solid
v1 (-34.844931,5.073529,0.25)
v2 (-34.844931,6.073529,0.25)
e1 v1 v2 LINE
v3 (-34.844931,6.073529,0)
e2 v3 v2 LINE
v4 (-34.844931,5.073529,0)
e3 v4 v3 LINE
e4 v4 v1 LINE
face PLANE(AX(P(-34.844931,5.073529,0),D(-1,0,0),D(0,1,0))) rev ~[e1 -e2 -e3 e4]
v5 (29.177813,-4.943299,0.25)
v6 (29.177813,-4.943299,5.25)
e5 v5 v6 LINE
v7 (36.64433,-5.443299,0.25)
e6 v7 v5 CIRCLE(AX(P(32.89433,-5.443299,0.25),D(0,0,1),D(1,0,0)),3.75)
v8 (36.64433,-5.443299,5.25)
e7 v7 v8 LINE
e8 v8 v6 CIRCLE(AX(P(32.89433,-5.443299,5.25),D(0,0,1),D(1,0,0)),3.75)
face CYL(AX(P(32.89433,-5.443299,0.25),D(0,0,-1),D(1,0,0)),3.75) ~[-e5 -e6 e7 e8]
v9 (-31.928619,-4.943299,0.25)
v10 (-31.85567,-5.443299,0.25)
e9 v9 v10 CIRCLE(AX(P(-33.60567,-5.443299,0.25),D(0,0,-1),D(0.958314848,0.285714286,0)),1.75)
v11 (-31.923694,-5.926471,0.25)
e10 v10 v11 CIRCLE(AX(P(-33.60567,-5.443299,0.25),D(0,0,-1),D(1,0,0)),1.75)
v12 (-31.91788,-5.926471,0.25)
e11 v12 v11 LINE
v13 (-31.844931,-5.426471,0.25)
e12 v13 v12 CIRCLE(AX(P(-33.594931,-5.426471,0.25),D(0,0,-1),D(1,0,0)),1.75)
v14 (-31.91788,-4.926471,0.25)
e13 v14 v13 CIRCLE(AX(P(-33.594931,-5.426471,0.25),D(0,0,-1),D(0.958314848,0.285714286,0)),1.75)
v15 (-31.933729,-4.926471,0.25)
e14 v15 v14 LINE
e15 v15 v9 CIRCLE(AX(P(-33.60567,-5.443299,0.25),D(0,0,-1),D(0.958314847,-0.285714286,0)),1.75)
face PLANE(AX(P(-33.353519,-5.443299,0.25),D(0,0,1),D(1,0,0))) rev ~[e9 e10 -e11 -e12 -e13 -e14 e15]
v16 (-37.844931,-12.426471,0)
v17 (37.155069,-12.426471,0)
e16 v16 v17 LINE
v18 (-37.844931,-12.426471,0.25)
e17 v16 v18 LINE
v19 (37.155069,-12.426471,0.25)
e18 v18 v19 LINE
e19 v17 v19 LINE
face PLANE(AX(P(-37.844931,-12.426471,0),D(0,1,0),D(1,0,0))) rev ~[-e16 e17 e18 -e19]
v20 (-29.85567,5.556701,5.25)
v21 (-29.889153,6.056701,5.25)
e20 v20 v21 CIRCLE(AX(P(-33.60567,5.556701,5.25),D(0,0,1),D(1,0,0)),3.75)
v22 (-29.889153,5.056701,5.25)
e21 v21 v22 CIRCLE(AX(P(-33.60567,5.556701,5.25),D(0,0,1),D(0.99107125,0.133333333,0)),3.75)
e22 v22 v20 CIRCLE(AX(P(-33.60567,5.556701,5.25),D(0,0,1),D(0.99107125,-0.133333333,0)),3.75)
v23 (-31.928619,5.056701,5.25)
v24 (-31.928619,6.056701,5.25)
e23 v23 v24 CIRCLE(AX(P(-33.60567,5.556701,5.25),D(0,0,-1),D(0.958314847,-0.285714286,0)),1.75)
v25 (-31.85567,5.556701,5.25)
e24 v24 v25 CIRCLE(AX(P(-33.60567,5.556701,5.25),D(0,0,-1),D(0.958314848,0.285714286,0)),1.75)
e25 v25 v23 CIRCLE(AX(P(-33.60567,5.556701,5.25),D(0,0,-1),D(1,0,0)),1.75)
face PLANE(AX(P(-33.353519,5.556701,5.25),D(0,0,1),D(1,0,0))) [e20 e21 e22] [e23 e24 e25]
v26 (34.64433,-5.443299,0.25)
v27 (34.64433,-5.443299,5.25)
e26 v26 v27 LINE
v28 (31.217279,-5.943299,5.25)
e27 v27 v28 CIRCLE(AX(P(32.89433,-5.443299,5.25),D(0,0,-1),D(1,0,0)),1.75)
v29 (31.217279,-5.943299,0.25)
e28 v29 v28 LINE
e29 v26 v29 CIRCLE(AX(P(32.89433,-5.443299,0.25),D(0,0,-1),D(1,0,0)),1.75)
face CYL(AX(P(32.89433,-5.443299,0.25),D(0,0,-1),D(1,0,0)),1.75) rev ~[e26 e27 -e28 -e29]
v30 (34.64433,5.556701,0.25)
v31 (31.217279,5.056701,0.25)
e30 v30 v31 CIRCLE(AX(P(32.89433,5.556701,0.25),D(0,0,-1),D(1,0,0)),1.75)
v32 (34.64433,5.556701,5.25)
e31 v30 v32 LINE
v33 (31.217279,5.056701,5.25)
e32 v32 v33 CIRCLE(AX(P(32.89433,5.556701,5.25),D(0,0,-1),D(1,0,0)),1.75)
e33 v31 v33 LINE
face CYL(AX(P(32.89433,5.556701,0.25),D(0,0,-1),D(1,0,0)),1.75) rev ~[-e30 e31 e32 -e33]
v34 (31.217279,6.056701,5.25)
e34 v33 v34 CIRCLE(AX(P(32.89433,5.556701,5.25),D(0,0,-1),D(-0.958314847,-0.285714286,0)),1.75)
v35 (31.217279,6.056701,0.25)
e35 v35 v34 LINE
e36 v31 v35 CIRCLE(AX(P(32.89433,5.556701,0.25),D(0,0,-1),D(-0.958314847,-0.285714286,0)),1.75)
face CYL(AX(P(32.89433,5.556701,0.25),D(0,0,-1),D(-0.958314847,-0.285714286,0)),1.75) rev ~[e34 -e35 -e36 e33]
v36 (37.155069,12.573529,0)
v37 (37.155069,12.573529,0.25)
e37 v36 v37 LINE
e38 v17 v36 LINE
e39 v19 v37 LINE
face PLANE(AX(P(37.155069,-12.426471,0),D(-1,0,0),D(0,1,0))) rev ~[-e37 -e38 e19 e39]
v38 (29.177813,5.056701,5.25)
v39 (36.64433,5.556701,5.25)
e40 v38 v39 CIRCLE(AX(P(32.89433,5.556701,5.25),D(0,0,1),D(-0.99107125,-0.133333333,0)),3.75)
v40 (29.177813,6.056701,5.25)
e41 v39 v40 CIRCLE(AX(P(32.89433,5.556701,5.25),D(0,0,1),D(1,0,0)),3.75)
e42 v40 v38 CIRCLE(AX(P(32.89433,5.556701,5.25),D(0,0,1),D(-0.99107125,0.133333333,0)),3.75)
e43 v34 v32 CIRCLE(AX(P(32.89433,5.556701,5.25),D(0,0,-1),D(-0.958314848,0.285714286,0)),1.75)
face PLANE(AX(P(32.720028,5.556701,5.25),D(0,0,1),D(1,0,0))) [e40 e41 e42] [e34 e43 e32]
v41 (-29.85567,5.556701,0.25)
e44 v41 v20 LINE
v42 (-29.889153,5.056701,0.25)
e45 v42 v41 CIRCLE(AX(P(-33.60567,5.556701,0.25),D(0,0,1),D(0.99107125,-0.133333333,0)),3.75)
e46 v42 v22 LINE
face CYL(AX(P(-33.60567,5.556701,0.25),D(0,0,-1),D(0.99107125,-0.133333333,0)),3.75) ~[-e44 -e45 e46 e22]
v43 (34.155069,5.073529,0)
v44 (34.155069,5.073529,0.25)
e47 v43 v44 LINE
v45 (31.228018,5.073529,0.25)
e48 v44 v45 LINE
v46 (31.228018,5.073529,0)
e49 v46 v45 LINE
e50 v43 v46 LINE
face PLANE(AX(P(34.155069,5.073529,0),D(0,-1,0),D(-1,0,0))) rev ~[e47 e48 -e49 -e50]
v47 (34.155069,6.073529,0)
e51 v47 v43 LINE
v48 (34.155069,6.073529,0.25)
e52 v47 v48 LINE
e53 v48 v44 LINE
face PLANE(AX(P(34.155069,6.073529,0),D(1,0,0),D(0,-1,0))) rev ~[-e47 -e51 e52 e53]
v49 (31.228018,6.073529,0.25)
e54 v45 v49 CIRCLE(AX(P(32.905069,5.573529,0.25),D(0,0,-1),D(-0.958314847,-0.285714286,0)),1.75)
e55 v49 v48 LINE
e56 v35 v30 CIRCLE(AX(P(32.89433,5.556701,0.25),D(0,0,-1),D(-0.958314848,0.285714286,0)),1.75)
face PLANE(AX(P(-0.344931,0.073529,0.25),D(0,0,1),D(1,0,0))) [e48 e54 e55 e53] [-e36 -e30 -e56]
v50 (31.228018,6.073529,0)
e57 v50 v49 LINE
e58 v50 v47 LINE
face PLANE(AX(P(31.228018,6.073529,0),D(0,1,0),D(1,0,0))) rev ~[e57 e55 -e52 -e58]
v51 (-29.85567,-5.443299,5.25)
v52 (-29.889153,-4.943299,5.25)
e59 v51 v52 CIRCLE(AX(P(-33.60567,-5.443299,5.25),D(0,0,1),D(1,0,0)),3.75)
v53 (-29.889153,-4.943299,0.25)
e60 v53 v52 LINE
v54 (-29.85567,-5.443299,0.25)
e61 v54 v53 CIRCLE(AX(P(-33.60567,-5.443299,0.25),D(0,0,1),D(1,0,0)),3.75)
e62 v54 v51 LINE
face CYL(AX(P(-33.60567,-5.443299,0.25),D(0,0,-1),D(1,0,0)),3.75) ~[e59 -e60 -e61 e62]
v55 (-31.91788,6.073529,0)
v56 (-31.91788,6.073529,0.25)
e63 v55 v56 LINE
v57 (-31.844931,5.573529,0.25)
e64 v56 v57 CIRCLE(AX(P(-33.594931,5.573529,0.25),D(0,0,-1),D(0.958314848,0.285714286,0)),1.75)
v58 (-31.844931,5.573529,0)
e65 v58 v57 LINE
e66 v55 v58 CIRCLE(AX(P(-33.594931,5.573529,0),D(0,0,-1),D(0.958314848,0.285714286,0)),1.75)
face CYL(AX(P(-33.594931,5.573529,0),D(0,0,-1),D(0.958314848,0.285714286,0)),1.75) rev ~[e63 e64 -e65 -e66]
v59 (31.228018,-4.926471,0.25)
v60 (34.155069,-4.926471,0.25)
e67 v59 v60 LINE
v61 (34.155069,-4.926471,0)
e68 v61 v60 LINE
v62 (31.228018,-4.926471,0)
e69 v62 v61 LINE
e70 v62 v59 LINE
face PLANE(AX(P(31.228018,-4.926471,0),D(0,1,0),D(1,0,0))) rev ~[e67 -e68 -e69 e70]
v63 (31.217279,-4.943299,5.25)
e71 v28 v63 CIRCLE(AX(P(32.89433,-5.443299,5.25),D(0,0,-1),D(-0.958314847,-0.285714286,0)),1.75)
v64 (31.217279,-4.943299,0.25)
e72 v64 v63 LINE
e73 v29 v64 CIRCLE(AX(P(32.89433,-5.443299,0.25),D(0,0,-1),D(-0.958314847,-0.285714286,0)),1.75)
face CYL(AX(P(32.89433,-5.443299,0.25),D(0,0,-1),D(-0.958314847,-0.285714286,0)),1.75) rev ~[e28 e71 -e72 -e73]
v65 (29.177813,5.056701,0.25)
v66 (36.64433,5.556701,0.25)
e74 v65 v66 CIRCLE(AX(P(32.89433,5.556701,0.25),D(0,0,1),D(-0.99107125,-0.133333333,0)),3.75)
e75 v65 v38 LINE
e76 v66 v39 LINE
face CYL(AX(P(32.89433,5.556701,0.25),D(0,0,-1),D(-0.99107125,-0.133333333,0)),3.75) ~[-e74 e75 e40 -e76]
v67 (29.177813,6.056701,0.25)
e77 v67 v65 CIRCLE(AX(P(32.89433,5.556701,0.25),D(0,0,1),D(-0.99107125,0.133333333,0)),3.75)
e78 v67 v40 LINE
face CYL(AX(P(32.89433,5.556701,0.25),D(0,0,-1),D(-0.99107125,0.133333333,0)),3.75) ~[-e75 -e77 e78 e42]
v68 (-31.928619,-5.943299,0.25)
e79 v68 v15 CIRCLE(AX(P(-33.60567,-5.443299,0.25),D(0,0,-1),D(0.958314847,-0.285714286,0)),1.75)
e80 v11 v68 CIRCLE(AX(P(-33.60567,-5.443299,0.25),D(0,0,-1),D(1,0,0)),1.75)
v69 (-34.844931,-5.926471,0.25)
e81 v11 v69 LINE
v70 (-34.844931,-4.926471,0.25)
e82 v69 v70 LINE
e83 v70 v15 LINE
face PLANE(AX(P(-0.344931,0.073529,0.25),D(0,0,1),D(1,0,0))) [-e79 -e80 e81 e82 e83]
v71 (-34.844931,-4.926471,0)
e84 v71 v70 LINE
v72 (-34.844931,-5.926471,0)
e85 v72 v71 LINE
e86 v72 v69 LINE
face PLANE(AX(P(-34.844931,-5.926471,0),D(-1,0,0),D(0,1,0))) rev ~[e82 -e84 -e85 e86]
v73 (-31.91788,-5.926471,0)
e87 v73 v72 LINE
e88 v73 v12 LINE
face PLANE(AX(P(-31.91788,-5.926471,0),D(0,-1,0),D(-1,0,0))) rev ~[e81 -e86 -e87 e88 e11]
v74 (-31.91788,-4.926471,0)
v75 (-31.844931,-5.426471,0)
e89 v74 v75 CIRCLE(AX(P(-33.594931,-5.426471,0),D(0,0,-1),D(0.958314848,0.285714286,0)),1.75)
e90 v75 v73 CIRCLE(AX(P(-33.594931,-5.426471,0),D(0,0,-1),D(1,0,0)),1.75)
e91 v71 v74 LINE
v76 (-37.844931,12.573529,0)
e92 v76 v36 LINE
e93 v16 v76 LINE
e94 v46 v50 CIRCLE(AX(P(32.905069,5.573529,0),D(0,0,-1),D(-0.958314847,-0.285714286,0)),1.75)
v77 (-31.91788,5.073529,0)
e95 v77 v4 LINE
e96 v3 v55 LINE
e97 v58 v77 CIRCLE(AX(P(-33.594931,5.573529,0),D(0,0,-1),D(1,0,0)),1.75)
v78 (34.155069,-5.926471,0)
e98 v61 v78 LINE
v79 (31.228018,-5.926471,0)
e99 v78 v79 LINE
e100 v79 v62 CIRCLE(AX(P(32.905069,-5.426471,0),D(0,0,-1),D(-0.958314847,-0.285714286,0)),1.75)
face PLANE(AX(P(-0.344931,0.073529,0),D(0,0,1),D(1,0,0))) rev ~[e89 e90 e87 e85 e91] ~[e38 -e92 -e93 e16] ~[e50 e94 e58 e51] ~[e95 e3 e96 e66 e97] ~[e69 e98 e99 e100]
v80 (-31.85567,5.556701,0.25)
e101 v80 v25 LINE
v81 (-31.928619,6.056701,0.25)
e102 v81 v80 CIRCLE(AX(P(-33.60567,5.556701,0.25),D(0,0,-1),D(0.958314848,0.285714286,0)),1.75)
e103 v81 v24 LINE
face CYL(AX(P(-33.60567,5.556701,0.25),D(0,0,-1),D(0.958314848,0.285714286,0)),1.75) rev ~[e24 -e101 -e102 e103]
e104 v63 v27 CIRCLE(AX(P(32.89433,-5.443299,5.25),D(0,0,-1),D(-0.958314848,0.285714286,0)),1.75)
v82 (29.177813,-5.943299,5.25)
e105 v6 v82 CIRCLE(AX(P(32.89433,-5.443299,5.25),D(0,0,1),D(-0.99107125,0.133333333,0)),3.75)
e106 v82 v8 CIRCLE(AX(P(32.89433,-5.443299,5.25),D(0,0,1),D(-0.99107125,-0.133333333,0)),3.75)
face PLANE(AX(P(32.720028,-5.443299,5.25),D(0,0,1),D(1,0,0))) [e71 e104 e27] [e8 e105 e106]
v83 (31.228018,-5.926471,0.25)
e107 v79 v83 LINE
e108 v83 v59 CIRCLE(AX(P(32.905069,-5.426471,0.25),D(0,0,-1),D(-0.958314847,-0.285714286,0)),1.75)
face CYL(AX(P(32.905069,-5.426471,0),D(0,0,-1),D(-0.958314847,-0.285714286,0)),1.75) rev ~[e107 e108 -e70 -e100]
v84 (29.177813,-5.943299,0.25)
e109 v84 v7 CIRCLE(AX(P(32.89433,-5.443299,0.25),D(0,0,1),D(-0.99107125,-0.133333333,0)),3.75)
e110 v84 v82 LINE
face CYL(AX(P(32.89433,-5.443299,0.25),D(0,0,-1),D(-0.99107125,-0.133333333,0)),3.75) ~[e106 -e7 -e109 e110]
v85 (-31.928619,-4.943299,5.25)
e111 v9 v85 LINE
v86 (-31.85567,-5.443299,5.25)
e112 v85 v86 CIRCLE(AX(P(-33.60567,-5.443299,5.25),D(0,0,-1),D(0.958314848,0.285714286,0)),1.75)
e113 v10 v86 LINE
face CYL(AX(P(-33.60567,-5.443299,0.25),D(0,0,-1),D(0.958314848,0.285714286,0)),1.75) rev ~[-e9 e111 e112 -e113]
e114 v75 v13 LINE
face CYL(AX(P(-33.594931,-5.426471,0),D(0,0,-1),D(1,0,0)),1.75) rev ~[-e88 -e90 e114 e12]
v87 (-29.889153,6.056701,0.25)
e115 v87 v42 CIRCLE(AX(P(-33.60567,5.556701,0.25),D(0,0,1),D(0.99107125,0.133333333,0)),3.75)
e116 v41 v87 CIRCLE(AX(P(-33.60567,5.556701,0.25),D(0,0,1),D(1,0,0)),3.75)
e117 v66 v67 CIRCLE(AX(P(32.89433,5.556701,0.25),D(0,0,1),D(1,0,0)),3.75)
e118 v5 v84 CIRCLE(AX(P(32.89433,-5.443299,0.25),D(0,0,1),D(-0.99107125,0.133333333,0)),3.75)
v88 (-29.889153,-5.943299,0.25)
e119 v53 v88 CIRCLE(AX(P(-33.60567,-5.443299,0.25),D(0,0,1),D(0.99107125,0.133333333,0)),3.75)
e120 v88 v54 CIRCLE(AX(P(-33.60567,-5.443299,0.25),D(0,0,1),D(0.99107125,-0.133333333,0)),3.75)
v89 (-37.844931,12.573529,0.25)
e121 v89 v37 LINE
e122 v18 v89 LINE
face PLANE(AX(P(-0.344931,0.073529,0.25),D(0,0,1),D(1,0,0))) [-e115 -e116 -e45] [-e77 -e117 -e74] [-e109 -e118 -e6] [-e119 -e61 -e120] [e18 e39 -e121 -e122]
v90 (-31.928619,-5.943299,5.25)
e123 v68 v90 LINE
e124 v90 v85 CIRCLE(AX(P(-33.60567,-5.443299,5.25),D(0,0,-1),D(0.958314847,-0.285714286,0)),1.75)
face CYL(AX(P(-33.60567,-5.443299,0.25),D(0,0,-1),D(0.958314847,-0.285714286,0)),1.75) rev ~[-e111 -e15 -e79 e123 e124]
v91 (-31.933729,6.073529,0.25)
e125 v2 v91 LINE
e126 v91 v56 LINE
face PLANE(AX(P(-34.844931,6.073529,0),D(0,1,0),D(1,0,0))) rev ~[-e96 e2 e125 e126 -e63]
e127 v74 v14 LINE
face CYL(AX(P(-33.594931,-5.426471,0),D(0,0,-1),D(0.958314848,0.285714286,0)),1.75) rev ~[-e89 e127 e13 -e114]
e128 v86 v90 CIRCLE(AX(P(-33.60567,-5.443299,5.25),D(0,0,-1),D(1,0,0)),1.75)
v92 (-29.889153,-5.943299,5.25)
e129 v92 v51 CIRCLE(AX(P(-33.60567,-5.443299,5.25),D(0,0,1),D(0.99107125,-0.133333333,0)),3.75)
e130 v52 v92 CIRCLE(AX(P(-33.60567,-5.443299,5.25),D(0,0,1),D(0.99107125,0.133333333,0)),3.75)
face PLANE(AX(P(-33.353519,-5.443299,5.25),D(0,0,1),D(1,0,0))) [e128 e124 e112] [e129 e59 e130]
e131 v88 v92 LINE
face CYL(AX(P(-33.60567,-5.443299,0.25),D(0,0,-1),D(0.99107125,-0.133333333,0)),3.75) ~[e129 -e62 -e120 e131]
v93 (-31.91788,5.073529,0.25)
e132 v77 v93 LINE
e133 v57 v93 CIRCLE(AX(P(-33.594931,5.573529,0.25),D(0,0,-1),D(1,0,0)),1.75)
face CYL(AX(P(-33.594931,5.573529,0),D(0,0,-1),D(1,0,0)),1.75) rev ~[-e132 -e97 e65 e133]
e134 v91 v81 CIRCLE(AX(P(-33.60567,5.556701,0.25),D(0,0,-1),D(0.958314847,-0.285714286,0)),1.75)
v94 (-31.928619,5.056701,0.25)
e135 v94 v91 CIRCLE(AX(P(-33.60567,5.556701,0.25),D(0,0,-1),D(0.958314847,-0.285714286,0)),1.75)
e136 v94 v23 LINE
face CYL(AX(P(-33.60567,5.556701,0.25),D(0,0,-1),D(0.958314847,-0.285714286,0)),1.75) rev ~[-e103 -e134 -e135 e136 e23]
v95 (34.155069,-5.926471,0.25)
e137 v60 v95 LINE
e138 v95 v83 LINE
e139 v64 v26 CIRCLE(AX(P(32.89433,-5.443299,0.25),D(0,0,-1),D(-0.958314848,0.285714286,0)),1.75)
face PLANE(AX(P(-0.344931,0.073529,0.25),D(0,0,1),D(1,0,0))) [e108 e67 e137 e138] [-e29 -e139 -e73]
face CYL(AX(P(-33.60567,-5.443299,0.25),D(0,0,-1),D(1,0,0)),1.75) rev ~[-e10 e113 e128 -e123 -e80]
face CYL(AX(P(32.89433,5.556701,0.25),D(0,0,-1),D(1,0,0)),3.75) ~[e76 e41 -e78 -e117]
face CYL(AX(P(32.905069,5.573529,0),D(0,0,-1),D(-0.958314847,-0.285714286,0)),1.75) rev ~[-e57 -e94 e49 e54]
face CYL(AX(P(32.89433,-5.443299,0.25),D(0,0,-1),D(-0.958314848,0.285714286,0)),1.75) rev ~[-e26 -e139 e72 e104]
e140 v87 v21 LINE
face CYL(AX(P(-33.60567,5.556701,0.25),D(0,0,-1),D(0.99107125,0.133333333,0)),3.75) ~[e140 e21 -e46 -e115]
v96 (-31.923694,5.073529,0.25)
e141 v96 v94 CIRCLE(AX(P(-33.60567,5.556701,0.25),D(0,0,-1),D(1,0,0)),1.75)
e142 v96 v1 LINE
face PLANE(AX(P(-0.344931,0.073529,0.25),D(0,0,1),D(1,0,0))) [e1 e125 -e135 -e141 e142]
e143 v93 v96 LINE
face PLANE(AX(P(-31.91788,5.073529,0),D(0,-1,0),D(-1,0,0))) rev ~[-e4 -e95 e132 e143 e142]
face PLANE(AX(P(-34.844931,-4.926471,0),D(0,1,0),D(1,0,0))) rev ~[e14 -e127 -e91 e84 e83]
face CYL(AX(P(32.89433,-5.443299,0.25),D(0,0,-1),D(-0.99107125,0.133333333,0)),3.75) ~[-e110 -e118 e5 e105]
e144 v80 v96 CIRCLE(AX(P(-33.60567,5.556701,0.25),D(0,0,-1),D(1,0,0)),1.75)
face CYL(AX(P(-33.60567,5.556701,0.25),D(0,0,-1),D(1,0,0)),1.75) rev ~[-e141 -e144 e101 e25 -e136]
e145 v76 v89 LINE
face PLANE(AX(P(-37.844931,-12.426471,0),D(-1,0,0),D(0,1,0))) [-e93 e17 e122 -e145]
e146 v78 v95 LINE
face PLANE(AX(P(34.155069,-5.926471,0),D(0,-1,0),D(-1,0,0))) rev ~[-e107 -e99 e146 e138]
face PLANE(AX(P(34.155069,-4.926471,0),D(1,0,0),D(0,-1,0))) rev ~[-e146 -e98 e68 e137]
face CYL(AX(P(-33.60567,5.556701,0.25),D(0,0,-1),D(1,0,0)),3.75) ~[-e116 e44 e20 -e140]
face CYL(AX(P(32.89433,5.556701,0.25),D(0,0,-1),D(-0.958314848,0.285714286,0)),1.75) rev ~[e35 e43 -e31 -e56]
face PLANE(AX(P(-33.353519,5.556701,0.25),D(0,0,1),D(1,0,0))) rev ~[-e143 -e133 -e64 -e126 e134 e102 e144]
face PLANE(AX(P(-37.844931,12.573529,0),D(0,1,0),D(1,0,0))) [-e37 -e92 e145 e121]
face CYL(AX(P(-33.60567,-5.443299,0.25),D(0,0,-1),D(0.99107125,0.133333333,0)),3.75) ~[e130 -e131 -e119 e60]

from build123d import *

# Parameters (mm, degrees)
F0_W     = 75
F0_H     = 25
F1_DEPTH = 0.25
F4_DEPTH = 5


with BuildPart() as f1:
    # F0 (on Top) → F1 (new body)
    with BuildSketch(Plane.XY):
        with Locations((-0.3449308872, 0.0735294118)):
            Rectangle(F0_W, F0_H)
        with BuildLine():
            ThreePointArc((-29.8784137004, -5.9264705882), (-37.3449308872, -5.4264705882), (-29.8784137004, -4.9264705882))
            Line((-29.8784137004, -4.9264705882), (-28.3449308872, -4.9264705882))
            Line((-28.3449308872, -4.9264705882), (-24.3449308872, -1.4264705882))
            Line((-24.3449308872, -1.4264705882), (23.6550691128, -1.4264705882))
            Line((23.6550691128, -1.4264705882), (27.6550691128, -4.9264705882))
            Line((27.6550691128, -4.9264705882), (29.1885519259, -4.9264705882))
            ThreePointArc((29.1885519259, -4.9264705882), (33.1556290351, -1.6848506549), (36.6550691128, -5.4264705882))
            ThreePointArc((36.6550691128, -5.4264705882), (33.1556290351, -9.1680905215), (29.1885519259, -5.9264705882))
            Line((29.1885519259, -5.9264705882), (27.6550691128, -5.9264705882))
            Line((27.6550691128, -5.9264705882), (23.6550691128, -9.4264705882))
            Line((23.6550691128, -9.4264705882), (-24.3449308872, -9.4264705882))
            Line((-24.3449308872, -9.4264705882), (-28.3449308872, -5.9264705882))
            Line((-28.3449308872, -5.9264705882), (-29.8784137004, -5.9264705882))
        make_face(mode=Mode.SUBTRACT)
        with BuildLine():
            ThreePointArc((-29.8784137004, 5.0735294118), (-37.3449308872, 5.5735294118), (-29.8784137004, 6.0735294118))
            Line((-29.8784137004, 6.0735294118), (-28.3449308872, 6.0735294118))
            Line((-28.3449308872, 6.0735294118), (-24.3449308872, 9.5735294118))
            Line((-24.3449308872, 9.5735294118), (23.6550691128, 9.5735294118))
            Line((23.6550691128, 9.5735294118), (27.6550691128, 6.0735294118))
            Line((27.6550691128, 6.0735294118), (29.1885519259, 6.0735294118))
            ThreePointArc((29.1885519259, 6.0735294118), (33.1556290351, 9.3151493451), (36.6550691128, 5.5735294118))
            ThreePointArc((36.6550691128, 5.5735294118), (33.1556290351, 1.8319094785), (29.1885519259, 5.0735294118))
            Line((29.1885519259, 5.0735294118), (27.6550691128, 5.0735294118))
            Line((27.6550691128, 5.0735294118), (23.6550691128, 1.5735294118))
            Line((23.6550691128, 1.5735294118), (-24.3449308872, 1.5735294118))
            Line((-24.3449308872, 1.5735294118), (-28.3449308872, 5.0735294118))
            Line((-28.3449308872, 5.0735294118), (-29.8784137004, 5.0735294118))
        make_face(mode=Mode.SUBTRACT)
        with BuildLine():
            Line((29.1885519259, 6.0735294118), (27.6550691128, 6.0735294118))
            Line((27.6550691128, 6.0735294118), (27.6550691128, 5.0735294118))
            Line((27.6550691128, 5.0735294118), (29.1885519259, 5.0735294118))
            ThreePointArc((29.1885519259, 5.0735294118), (29.1550691128, 5.5735294118), (29.1885519259, 6.0735294118))
        make_face()
        with BuildLine():
            ThreePointArc((36.6550691128, 5.5735294118), (33.1556290351, 9.3151493451), (29.1885519259, 6.0735294118))
            Line((29.1885519259, 6.0735294118), (31.2280181297, 6.0735294118))
            ThreePointArc((31.2280181297, 6.0735294118), (33.1577158815, 7.3051961263), (34.6550691128, 5.5735294118))
            ThreePointArc((34.6550691128, 5.5735294118), (33.1577158815, 3.8418626972), (31.2280181297, 5.0735294118))
            Line((31.2280181297, 5.0735294118), (29.1885519259, 5.0735294118))
            ThreePointArc((29.1885519259, 5.0735294118), (33.1556290351, 1.8319094785), (36.6550691128, 5.5735294118))
        make_face()
        with BuildLine():
            Line((31.2280181297, 6.0735294118), (29.1885519259, 6.0735294118))
            ThreePointArc((29.1885519259, 6.0735294118), (29.1550691128, 5.5735294118), (29.1885519259, 5.0735294118))
            Line((29.1885519259, 5.0735294118), (31.2280181297, 5.0735294118))
            ThreePointArc((31.2280181297, 5.0735294118), (31.1550691128, 5.5735294118), (31.2280181297, 6.0735294118))
        make_face()
        with BuildLine():
            ThreePointArc((34.6550691128, 5.5735294118), (33.1577158815, 7.3051961263), (31.2280181297, 6.0735294118))
            Line((31.2280181297, 6.0735294118), (34.1550691128, 6.0735294118))
            Line((34.1550691128, 6.0735294118), (34.1550691128, 5.0735294118))
            Line((34.1550691128, 5.0735294118), (31.2280181297, 5.0735294118))
            ThreePointArc((31.2280181297, 5.0735294118), (33.1577158815, 3.8418626972), (34.6550691128, 5.5735294118))
        make_face()
        with BuildLine():
            Line((29.1885519259, -4.9264705882), (27.6550691128, -4.9264705882))
            Line((27.6550691128, -4.9264705882), (27.6550691128, -5.9264705882))
            Line((27.6550691128, -5.9264705882), (29.1885519259, -5.9264705882))
            ThreePointArc((29.1885519259, -5.9264705882), (29.1550691128, -5.4264705882), (29.1885519259, -4.9264705882))
        make_face()
        with BuildLine():
            Line((31.2280181297, -4.9264705882), (29.1885519259, -4.9264705882))
            ThreePointArc((29.1885519259, -4.9264705882), (29.1550691128, -5.4264705882), (29.1885519259, -5.9264705882))
            Line((29.1885519259, -5.9264705882), (31.2280181297, -5.9264705882))
            ThreePointArc((31.2280181297, -5.9264705882), (31.1550691128, -5.4264705882), (31.2280181297, -4.9264705882))
        make_face()
        with BuildLine():
            ThreePointArc((36.6550691128, -5.4264705882), (33.1556290351, -1.6848506549), (29.1885519259, -4.9264705882))
            Line((29.1885519259, -4.9264705882), (31.2280181297, -4.9264705882))
            ThreePointArc((31.2280181297, -4.9264705882), (33.1577158815, -3.6948038737), (34.6550691128, -5.4264705882))
            ThreePointArc((34.6550691128, -5.4264705882), (33.1577158815, -7.1581373028), (31.2280181297, -5.9264705882))
            Line((31.2280181297, -5.9264705882), (29.1885519259, -5.9264705882))
            ThreePointArc((29.1885519259, -5.9264705882), (33.1556290351, -9.1680905215), (36.6550691128, -5.4264705882))
        make_face()
        with BuildLine():
            ThreePointArc((34.6550691128, -5.4264705882), (33.1577158815, -3.6948038737), (31.2280181297, -4.9264705882))
            Line((31.2280181297, -4.9264705882), (34.1550691128, -4.9264705882))
            Line((34.1550691128, -4.9264705882), (34.1550691128, -5.9264705882))
            Line((34.1550691128, -5.9264705882), (31.2280181297, -5.9264705882))
            ThreePointArc((31.2280181297, -5.9264705882), (33.1577158815, -7.1581373028), (34.6550691128, -5.4264705882))
        make_face()
        Polygon((-24.3449308872, -1.4264705882), (-28.3449308872, -4.9264705882), (-28.3449308872, -5.9264705882), (-24.3449308872, -9.4264705882), (23.6550691128, -9.4264705882), (27.6550691128, -5.9264705882), (27.6550691128, -4.9264705882), (23.6550691128, -1.4264705882), align=None)
        Polygon((-24.3449308872, 9.5735294118), (-28.3449308872, 6.0735294118), (-28.3449308872, 5.0735294118), (-24.3449308872, 1.5735294118), (23.6550691128, 1.5735294118), (27.6550691128, 5.0735294118), (27.6550691128, 6.0735294118), (23.6550691128, 9.5735294118), align=None)
        with BuildLine():
            Line((-28.3449308872, 6.0735294118), (-29.8784137004, 6.0735294118))
            ThreePointArc((-29.8784137004, 6.0735294118), (-29.8533109539, 5.8240893341), (-29.8449308872, 5.5735294118))
            ThreePointArc((-29.8449308872, 5.5735294118), (-29.8533109539, 5.3229694894), (-29.8784137004, 5.0735294118))
            Line((-29.8784137004, 5.0735294118), (-28.3449308872, 5.0735294118))
            Line((-28.3449308872, 5.0735294118), (-28.3449308872, 6.0735294118))
        make_face()
        with BuildLine():
            Line((-28.3449308872, -4.9264705882), (-29.8784137004, -4.9264705882))
            ThreePointArc((-29.8784137004, -4.9264705882), (-29.8533109539, -5.1759106659), (-29.8449308872, -5.4264705882))
            ThreePointArc((-29.8449308872, -5.4264705882), (-29.8533109539, -5.6770305106), (-29.8784137004, -5.9264705882))
            Line((-29.8784137004, -5.9264705882), (-28.3449308872, -5.9264705882))
            Line((-28.3449308872, -5.9264705882), (-28.3449308872, -4.9264705882))
        make_face()
        with BuildLine():
            ThreePointArc((-31.9178799041, -5.9264705882), (-35.3449308872, -5.4264705882), (-31.9178799041, -4.9264705882))
            Line((-31.9178799041, -4.9264705882), (-29.8784137004, -4.9264705882))
            ThreePointArc((-29.8784137004, -4.9264705882), (-37.3449308872, -5.4264705882), (-29.8784137004, -5.9264705882))
            Line((-29.8784137004, -5.9264705882), (-31.9178799041, -5.9264705882))
        make_face()
        with BuildLine():
            Line((-29.8784137004, -4.9264705882), (-31.9178799041, -4.9264705882))
            ThreePointArc((-31.9178799041, -4.9264705882), (-31.8632641727, -5.1738238195), (-31.8449308872, -5.4264705882))
            ThreePointArc((-31.8449308872, -5.4264705882), (-31.8632641727, -5.679117357), (-31.9178799041, -5.9264705882))
            Line((-31.9178799041, -5.9264705882), (-29.8784137004, -5.9264705882))
            ThreePointArc((-29.8784137004, -5.9264705882), (-29.8533109539, -5.6770305106), (-29.8449308872, -5.4264705882))
            ThreePointArc((-29.8449308872, -5.4264705882), (-29.8533109539, -5.1759106659), (-29.8784137004, -4.9264705882))
        make_face()
        with BuildLine():
            Line((-34.8449308872, -5.9264705882), (-34.8449308872, -4.9264705882))
            Line((-34.8449308872, -4.9264705882), (-31.9178799041, -4.9264705882))
            ThreePointArc((-31.9178799041, -4.9264705882), (-35.3449308872, -5.4264705882), (-31.9178799041, -5.9264705882))
            Line((-31.9178799041, -5.9264705882), (-34.8449308872, -5.9264705882))
        make_face()
        with BuildLine():
            ThreePointArc((-31.9178799041, 5.0735294118), (-35.3449308872, 5.5735294118), (-31.9178799041, 6.0735294118))
            Line((-31.9178799041, 6.0735294118), (-29.8784137004, 6.0735294118))
            ThreePointArc((-29.8784137004, 6.0735294118), (-37.3449308872, 5.5735294118), (-29.8784137004, 5.0735294118))
            Line((-29.8784137004, 5.0735294118), (-31.9178799041, 5.0735294118))
        make_face()
        with BuildLine():
            Line((-29.8784137004, 6.0735294118), (-31.9178799041, 6.0735294118))
            ThreePointArc((-31.9178799041, 6.0735294118), (-31.8632641727, 5.8261761805), (-31.8449308872, 5.5735294118))
            ThreePointArc((-31.8449308872, 5.5735294118), (-31.8632641727, 5.320882643), (-31.9178799041, 5.0735294118))
            Line((-31.9178799041, 5.0735294118), (-29.8784137004, 5.0735294118))
            ThreePointArc((-29.8784137004, 5.0735294118), (-29.8533109539, 5.3229694894), (-29.8449308872, 5.5735294118))
            ThreePointArc((-29.8449308872, 5.5735294118), (-29.8533109539, 5.8240893341), (-29.8784137004, 6.0735294118))
        make_face()
        with BuildLine():
            Line((-34.8449308872, 5.0735294118), (-34.8449308872, 6.0735294118))
            Line((-34.8449308872, 6.0735294118), (-31.9178799041, 6.0735294118))
            ThreePointArc((-31.9178799041, 6.0735294118), (-35.3449308872, 5.5735294118), (-31.9178799041, 5.0735294118))
            Line((-31.9178799041, 5.0735294118), (-34.8449308872, 5.0735294118))
        make_face()
    extrude(amount=F1_DEPTH)

    # F3 (on offset) → F4 (join)
    with BuildSketch(Plane.XY.offset(0.25)):
        with BuildLine():
            ThreePointArc((36.6443298969, 5.5567010309), (33.1448898193, 9.2983209642), (29.1778127101, 6.0567010309))
            Line((29.1778127101, 6.0567010309), (31.2172789138, 6.0567010309))
            ThreePointArc((31.2172789138, 6.0567010309), (33.1469766657, 7.2883677455), (34.6443298969, 5.5567010309))
            ThreePointArc((34.6443298969, 5.5567010309), (33.1469766657, 3.8250343164), (31.2172789138, 5.0567010309))
            Line((31.2172789138, 5.0567010309), (29.1778127101, 5.0567010309))
            ThreePointArc((29.1778127101, 5.0567010309), (33.1448898193, 1.8150810976), (36.6443298969, 5.5567010309))
        make_face()
        with BuildLine():
            Line((31.2172789138, 6.0567010309), (29.1778127101, 6.0567010309))
            ThreePointArc((29.1778127101, 6.0567010309), (29.1443298969, 5.5567010309), (29.1778127101, 5.0567010309))
            Line((29.1778127101, 5.0567010309), (31.2172789138, 5.0567010309))
            ThreePointArc((31.2172789138, 5.0567010309), (31.1443298969, 5.5567010309), (31.2172789138, 6.0567010309))
        make_face()
        with BuildLine():
            ThreePointArc((36.6443298969, -5.4432989691), (33.1448898193, -1.7016790358), (29.1778127101, -4.9432989691))
            Line((29.1778127101, -4.9432989691), (31.2172789138, -4.9432989691))
            ThreePointArc((31.2172789138, -4.9432989691), (33.1469766657, -3.7116322545), (34.6443298969, -5.4432989691))
            ThreePointArc((34.6443298969, -5.4432989691), (33.1469766657, -7.1749656836), (31.2172789138, -5.9432989691))
            Line((31.2172789138, -5.9432989691), (29.1778127101, -5.9432989691))
            ThreePointArc((29.1778127101, -5.9432989691), (33.1448898193, -9.1849189024), (36.6443298969, -5.4432989691))
        make_face()
        with BuildLine():
            Line((31.2172789138, -4.9432989691), (29.1778127101, -4.9432989691))
            ThreePointArc((29.1778127101, -4.9432989691), (29.1443298969, -5.4432989691), (29.1778127101, -5.9432989691))
            Line((29.1778127101, -5.9432989691), (31.2172789138, -5.9432989691))
            ThreePointArc((31.2172789138, -5.9432989691), (31.1443298969, -5.4432989691), (31.2172789138, -4.9432989691))
        make_face()
        with BuildLine():
            ThreePointArc((-31.92861912, 5.0567010309), (-35.3556701031, 5.5567010309), (-31.92861912, 6.0567010309))
            Line((-31.92861912, 6.0567010309), (-29.8891529163, 6.0567010309))
            ThreePointArc((-29.8891529163, 6.0567010309), (-37.3556701031, 5.5567010309), (-29.8891529163, 5.0567010309))
            Line((-29.8891529163, 5.0567010309), (-31.92861912, 5.0567010309))
        make_face()
        with BuildLine():
            Line((-29.8891529163, 6.0567010309), (-31.92861912, 6.0567010309))
            ThreePointArc((-31.92861912, 6.0567010309), (-31.8740033886, 5.8093477997), (-31.8556701031, 5.5567010309))
            ThreePointArc((-31.8556701031, 5.5567010309), (-31.8740033886, 5.3040542622), (-31.92861912, 5.0567010309))
            Line((-31.92861912, 5.0567010309), (-29.8891529163, 5.0567010309))
            ThreePointArc((-29.8891529163, 5.0567010309), (-29.8640501698, 5.3061411086), (-29.8556701031, 5.5567010309))
            ThreePointArc((-29.8556701031, 5.5567010309), (-29.8640501698, 5.8072609533), (-29.8891529163, 6.0567010309))
        make_face()
        with BuildLine():
            ThreePointArc((-31.92861912, -5.9432989691), (-35.3556701031, -5.4432989691), (-31.92861912, -4.9432989691))
            Line((-31.92861912, -4.9432989691), (-29.8891529163, -4.9432989691))
            ThreePointArc((-29.8891529163, -4.9432989691), (-37.3556701031, -5.4432989691), (-29.8891529163, -5.9432989691))
            Line((-29.8891529163, -5.9432989691), (-31.92861912, -5.9432989691))
        make_face()
        with BuildLine():
            Line((-29.8891529163, -4.9432989691), (-31.92861912, -4.9432989691))
            ThreePointArc((-31.92861912, -4.9432989691), (-31.8740033886, -5.1906522003), (-31.8556701031, -5.4432989691))
            ThreePointArc((-31.8556701031, -5.4432989691), (-31.8740033886, -5.6959457378), (-31.92861912, -5.9432989691))
            Line((-31.92861912, -5.9432989691), (-29.8891529163, -5.9432989691))
            ThreePointArc((-29.8891529163, -5.9432989691), (-29.8640501698, -5.6938588914), (-29.8556701031, -5.4432989691))
            ThreePointArc((-29.8556701031, -5.4432989691), (-29.8640501698, -5.1927390467), (-29.8891529163, -4.9432989691))
        make_face()
    extrude(amount=F4_DEPTH)


solid = f1.part
